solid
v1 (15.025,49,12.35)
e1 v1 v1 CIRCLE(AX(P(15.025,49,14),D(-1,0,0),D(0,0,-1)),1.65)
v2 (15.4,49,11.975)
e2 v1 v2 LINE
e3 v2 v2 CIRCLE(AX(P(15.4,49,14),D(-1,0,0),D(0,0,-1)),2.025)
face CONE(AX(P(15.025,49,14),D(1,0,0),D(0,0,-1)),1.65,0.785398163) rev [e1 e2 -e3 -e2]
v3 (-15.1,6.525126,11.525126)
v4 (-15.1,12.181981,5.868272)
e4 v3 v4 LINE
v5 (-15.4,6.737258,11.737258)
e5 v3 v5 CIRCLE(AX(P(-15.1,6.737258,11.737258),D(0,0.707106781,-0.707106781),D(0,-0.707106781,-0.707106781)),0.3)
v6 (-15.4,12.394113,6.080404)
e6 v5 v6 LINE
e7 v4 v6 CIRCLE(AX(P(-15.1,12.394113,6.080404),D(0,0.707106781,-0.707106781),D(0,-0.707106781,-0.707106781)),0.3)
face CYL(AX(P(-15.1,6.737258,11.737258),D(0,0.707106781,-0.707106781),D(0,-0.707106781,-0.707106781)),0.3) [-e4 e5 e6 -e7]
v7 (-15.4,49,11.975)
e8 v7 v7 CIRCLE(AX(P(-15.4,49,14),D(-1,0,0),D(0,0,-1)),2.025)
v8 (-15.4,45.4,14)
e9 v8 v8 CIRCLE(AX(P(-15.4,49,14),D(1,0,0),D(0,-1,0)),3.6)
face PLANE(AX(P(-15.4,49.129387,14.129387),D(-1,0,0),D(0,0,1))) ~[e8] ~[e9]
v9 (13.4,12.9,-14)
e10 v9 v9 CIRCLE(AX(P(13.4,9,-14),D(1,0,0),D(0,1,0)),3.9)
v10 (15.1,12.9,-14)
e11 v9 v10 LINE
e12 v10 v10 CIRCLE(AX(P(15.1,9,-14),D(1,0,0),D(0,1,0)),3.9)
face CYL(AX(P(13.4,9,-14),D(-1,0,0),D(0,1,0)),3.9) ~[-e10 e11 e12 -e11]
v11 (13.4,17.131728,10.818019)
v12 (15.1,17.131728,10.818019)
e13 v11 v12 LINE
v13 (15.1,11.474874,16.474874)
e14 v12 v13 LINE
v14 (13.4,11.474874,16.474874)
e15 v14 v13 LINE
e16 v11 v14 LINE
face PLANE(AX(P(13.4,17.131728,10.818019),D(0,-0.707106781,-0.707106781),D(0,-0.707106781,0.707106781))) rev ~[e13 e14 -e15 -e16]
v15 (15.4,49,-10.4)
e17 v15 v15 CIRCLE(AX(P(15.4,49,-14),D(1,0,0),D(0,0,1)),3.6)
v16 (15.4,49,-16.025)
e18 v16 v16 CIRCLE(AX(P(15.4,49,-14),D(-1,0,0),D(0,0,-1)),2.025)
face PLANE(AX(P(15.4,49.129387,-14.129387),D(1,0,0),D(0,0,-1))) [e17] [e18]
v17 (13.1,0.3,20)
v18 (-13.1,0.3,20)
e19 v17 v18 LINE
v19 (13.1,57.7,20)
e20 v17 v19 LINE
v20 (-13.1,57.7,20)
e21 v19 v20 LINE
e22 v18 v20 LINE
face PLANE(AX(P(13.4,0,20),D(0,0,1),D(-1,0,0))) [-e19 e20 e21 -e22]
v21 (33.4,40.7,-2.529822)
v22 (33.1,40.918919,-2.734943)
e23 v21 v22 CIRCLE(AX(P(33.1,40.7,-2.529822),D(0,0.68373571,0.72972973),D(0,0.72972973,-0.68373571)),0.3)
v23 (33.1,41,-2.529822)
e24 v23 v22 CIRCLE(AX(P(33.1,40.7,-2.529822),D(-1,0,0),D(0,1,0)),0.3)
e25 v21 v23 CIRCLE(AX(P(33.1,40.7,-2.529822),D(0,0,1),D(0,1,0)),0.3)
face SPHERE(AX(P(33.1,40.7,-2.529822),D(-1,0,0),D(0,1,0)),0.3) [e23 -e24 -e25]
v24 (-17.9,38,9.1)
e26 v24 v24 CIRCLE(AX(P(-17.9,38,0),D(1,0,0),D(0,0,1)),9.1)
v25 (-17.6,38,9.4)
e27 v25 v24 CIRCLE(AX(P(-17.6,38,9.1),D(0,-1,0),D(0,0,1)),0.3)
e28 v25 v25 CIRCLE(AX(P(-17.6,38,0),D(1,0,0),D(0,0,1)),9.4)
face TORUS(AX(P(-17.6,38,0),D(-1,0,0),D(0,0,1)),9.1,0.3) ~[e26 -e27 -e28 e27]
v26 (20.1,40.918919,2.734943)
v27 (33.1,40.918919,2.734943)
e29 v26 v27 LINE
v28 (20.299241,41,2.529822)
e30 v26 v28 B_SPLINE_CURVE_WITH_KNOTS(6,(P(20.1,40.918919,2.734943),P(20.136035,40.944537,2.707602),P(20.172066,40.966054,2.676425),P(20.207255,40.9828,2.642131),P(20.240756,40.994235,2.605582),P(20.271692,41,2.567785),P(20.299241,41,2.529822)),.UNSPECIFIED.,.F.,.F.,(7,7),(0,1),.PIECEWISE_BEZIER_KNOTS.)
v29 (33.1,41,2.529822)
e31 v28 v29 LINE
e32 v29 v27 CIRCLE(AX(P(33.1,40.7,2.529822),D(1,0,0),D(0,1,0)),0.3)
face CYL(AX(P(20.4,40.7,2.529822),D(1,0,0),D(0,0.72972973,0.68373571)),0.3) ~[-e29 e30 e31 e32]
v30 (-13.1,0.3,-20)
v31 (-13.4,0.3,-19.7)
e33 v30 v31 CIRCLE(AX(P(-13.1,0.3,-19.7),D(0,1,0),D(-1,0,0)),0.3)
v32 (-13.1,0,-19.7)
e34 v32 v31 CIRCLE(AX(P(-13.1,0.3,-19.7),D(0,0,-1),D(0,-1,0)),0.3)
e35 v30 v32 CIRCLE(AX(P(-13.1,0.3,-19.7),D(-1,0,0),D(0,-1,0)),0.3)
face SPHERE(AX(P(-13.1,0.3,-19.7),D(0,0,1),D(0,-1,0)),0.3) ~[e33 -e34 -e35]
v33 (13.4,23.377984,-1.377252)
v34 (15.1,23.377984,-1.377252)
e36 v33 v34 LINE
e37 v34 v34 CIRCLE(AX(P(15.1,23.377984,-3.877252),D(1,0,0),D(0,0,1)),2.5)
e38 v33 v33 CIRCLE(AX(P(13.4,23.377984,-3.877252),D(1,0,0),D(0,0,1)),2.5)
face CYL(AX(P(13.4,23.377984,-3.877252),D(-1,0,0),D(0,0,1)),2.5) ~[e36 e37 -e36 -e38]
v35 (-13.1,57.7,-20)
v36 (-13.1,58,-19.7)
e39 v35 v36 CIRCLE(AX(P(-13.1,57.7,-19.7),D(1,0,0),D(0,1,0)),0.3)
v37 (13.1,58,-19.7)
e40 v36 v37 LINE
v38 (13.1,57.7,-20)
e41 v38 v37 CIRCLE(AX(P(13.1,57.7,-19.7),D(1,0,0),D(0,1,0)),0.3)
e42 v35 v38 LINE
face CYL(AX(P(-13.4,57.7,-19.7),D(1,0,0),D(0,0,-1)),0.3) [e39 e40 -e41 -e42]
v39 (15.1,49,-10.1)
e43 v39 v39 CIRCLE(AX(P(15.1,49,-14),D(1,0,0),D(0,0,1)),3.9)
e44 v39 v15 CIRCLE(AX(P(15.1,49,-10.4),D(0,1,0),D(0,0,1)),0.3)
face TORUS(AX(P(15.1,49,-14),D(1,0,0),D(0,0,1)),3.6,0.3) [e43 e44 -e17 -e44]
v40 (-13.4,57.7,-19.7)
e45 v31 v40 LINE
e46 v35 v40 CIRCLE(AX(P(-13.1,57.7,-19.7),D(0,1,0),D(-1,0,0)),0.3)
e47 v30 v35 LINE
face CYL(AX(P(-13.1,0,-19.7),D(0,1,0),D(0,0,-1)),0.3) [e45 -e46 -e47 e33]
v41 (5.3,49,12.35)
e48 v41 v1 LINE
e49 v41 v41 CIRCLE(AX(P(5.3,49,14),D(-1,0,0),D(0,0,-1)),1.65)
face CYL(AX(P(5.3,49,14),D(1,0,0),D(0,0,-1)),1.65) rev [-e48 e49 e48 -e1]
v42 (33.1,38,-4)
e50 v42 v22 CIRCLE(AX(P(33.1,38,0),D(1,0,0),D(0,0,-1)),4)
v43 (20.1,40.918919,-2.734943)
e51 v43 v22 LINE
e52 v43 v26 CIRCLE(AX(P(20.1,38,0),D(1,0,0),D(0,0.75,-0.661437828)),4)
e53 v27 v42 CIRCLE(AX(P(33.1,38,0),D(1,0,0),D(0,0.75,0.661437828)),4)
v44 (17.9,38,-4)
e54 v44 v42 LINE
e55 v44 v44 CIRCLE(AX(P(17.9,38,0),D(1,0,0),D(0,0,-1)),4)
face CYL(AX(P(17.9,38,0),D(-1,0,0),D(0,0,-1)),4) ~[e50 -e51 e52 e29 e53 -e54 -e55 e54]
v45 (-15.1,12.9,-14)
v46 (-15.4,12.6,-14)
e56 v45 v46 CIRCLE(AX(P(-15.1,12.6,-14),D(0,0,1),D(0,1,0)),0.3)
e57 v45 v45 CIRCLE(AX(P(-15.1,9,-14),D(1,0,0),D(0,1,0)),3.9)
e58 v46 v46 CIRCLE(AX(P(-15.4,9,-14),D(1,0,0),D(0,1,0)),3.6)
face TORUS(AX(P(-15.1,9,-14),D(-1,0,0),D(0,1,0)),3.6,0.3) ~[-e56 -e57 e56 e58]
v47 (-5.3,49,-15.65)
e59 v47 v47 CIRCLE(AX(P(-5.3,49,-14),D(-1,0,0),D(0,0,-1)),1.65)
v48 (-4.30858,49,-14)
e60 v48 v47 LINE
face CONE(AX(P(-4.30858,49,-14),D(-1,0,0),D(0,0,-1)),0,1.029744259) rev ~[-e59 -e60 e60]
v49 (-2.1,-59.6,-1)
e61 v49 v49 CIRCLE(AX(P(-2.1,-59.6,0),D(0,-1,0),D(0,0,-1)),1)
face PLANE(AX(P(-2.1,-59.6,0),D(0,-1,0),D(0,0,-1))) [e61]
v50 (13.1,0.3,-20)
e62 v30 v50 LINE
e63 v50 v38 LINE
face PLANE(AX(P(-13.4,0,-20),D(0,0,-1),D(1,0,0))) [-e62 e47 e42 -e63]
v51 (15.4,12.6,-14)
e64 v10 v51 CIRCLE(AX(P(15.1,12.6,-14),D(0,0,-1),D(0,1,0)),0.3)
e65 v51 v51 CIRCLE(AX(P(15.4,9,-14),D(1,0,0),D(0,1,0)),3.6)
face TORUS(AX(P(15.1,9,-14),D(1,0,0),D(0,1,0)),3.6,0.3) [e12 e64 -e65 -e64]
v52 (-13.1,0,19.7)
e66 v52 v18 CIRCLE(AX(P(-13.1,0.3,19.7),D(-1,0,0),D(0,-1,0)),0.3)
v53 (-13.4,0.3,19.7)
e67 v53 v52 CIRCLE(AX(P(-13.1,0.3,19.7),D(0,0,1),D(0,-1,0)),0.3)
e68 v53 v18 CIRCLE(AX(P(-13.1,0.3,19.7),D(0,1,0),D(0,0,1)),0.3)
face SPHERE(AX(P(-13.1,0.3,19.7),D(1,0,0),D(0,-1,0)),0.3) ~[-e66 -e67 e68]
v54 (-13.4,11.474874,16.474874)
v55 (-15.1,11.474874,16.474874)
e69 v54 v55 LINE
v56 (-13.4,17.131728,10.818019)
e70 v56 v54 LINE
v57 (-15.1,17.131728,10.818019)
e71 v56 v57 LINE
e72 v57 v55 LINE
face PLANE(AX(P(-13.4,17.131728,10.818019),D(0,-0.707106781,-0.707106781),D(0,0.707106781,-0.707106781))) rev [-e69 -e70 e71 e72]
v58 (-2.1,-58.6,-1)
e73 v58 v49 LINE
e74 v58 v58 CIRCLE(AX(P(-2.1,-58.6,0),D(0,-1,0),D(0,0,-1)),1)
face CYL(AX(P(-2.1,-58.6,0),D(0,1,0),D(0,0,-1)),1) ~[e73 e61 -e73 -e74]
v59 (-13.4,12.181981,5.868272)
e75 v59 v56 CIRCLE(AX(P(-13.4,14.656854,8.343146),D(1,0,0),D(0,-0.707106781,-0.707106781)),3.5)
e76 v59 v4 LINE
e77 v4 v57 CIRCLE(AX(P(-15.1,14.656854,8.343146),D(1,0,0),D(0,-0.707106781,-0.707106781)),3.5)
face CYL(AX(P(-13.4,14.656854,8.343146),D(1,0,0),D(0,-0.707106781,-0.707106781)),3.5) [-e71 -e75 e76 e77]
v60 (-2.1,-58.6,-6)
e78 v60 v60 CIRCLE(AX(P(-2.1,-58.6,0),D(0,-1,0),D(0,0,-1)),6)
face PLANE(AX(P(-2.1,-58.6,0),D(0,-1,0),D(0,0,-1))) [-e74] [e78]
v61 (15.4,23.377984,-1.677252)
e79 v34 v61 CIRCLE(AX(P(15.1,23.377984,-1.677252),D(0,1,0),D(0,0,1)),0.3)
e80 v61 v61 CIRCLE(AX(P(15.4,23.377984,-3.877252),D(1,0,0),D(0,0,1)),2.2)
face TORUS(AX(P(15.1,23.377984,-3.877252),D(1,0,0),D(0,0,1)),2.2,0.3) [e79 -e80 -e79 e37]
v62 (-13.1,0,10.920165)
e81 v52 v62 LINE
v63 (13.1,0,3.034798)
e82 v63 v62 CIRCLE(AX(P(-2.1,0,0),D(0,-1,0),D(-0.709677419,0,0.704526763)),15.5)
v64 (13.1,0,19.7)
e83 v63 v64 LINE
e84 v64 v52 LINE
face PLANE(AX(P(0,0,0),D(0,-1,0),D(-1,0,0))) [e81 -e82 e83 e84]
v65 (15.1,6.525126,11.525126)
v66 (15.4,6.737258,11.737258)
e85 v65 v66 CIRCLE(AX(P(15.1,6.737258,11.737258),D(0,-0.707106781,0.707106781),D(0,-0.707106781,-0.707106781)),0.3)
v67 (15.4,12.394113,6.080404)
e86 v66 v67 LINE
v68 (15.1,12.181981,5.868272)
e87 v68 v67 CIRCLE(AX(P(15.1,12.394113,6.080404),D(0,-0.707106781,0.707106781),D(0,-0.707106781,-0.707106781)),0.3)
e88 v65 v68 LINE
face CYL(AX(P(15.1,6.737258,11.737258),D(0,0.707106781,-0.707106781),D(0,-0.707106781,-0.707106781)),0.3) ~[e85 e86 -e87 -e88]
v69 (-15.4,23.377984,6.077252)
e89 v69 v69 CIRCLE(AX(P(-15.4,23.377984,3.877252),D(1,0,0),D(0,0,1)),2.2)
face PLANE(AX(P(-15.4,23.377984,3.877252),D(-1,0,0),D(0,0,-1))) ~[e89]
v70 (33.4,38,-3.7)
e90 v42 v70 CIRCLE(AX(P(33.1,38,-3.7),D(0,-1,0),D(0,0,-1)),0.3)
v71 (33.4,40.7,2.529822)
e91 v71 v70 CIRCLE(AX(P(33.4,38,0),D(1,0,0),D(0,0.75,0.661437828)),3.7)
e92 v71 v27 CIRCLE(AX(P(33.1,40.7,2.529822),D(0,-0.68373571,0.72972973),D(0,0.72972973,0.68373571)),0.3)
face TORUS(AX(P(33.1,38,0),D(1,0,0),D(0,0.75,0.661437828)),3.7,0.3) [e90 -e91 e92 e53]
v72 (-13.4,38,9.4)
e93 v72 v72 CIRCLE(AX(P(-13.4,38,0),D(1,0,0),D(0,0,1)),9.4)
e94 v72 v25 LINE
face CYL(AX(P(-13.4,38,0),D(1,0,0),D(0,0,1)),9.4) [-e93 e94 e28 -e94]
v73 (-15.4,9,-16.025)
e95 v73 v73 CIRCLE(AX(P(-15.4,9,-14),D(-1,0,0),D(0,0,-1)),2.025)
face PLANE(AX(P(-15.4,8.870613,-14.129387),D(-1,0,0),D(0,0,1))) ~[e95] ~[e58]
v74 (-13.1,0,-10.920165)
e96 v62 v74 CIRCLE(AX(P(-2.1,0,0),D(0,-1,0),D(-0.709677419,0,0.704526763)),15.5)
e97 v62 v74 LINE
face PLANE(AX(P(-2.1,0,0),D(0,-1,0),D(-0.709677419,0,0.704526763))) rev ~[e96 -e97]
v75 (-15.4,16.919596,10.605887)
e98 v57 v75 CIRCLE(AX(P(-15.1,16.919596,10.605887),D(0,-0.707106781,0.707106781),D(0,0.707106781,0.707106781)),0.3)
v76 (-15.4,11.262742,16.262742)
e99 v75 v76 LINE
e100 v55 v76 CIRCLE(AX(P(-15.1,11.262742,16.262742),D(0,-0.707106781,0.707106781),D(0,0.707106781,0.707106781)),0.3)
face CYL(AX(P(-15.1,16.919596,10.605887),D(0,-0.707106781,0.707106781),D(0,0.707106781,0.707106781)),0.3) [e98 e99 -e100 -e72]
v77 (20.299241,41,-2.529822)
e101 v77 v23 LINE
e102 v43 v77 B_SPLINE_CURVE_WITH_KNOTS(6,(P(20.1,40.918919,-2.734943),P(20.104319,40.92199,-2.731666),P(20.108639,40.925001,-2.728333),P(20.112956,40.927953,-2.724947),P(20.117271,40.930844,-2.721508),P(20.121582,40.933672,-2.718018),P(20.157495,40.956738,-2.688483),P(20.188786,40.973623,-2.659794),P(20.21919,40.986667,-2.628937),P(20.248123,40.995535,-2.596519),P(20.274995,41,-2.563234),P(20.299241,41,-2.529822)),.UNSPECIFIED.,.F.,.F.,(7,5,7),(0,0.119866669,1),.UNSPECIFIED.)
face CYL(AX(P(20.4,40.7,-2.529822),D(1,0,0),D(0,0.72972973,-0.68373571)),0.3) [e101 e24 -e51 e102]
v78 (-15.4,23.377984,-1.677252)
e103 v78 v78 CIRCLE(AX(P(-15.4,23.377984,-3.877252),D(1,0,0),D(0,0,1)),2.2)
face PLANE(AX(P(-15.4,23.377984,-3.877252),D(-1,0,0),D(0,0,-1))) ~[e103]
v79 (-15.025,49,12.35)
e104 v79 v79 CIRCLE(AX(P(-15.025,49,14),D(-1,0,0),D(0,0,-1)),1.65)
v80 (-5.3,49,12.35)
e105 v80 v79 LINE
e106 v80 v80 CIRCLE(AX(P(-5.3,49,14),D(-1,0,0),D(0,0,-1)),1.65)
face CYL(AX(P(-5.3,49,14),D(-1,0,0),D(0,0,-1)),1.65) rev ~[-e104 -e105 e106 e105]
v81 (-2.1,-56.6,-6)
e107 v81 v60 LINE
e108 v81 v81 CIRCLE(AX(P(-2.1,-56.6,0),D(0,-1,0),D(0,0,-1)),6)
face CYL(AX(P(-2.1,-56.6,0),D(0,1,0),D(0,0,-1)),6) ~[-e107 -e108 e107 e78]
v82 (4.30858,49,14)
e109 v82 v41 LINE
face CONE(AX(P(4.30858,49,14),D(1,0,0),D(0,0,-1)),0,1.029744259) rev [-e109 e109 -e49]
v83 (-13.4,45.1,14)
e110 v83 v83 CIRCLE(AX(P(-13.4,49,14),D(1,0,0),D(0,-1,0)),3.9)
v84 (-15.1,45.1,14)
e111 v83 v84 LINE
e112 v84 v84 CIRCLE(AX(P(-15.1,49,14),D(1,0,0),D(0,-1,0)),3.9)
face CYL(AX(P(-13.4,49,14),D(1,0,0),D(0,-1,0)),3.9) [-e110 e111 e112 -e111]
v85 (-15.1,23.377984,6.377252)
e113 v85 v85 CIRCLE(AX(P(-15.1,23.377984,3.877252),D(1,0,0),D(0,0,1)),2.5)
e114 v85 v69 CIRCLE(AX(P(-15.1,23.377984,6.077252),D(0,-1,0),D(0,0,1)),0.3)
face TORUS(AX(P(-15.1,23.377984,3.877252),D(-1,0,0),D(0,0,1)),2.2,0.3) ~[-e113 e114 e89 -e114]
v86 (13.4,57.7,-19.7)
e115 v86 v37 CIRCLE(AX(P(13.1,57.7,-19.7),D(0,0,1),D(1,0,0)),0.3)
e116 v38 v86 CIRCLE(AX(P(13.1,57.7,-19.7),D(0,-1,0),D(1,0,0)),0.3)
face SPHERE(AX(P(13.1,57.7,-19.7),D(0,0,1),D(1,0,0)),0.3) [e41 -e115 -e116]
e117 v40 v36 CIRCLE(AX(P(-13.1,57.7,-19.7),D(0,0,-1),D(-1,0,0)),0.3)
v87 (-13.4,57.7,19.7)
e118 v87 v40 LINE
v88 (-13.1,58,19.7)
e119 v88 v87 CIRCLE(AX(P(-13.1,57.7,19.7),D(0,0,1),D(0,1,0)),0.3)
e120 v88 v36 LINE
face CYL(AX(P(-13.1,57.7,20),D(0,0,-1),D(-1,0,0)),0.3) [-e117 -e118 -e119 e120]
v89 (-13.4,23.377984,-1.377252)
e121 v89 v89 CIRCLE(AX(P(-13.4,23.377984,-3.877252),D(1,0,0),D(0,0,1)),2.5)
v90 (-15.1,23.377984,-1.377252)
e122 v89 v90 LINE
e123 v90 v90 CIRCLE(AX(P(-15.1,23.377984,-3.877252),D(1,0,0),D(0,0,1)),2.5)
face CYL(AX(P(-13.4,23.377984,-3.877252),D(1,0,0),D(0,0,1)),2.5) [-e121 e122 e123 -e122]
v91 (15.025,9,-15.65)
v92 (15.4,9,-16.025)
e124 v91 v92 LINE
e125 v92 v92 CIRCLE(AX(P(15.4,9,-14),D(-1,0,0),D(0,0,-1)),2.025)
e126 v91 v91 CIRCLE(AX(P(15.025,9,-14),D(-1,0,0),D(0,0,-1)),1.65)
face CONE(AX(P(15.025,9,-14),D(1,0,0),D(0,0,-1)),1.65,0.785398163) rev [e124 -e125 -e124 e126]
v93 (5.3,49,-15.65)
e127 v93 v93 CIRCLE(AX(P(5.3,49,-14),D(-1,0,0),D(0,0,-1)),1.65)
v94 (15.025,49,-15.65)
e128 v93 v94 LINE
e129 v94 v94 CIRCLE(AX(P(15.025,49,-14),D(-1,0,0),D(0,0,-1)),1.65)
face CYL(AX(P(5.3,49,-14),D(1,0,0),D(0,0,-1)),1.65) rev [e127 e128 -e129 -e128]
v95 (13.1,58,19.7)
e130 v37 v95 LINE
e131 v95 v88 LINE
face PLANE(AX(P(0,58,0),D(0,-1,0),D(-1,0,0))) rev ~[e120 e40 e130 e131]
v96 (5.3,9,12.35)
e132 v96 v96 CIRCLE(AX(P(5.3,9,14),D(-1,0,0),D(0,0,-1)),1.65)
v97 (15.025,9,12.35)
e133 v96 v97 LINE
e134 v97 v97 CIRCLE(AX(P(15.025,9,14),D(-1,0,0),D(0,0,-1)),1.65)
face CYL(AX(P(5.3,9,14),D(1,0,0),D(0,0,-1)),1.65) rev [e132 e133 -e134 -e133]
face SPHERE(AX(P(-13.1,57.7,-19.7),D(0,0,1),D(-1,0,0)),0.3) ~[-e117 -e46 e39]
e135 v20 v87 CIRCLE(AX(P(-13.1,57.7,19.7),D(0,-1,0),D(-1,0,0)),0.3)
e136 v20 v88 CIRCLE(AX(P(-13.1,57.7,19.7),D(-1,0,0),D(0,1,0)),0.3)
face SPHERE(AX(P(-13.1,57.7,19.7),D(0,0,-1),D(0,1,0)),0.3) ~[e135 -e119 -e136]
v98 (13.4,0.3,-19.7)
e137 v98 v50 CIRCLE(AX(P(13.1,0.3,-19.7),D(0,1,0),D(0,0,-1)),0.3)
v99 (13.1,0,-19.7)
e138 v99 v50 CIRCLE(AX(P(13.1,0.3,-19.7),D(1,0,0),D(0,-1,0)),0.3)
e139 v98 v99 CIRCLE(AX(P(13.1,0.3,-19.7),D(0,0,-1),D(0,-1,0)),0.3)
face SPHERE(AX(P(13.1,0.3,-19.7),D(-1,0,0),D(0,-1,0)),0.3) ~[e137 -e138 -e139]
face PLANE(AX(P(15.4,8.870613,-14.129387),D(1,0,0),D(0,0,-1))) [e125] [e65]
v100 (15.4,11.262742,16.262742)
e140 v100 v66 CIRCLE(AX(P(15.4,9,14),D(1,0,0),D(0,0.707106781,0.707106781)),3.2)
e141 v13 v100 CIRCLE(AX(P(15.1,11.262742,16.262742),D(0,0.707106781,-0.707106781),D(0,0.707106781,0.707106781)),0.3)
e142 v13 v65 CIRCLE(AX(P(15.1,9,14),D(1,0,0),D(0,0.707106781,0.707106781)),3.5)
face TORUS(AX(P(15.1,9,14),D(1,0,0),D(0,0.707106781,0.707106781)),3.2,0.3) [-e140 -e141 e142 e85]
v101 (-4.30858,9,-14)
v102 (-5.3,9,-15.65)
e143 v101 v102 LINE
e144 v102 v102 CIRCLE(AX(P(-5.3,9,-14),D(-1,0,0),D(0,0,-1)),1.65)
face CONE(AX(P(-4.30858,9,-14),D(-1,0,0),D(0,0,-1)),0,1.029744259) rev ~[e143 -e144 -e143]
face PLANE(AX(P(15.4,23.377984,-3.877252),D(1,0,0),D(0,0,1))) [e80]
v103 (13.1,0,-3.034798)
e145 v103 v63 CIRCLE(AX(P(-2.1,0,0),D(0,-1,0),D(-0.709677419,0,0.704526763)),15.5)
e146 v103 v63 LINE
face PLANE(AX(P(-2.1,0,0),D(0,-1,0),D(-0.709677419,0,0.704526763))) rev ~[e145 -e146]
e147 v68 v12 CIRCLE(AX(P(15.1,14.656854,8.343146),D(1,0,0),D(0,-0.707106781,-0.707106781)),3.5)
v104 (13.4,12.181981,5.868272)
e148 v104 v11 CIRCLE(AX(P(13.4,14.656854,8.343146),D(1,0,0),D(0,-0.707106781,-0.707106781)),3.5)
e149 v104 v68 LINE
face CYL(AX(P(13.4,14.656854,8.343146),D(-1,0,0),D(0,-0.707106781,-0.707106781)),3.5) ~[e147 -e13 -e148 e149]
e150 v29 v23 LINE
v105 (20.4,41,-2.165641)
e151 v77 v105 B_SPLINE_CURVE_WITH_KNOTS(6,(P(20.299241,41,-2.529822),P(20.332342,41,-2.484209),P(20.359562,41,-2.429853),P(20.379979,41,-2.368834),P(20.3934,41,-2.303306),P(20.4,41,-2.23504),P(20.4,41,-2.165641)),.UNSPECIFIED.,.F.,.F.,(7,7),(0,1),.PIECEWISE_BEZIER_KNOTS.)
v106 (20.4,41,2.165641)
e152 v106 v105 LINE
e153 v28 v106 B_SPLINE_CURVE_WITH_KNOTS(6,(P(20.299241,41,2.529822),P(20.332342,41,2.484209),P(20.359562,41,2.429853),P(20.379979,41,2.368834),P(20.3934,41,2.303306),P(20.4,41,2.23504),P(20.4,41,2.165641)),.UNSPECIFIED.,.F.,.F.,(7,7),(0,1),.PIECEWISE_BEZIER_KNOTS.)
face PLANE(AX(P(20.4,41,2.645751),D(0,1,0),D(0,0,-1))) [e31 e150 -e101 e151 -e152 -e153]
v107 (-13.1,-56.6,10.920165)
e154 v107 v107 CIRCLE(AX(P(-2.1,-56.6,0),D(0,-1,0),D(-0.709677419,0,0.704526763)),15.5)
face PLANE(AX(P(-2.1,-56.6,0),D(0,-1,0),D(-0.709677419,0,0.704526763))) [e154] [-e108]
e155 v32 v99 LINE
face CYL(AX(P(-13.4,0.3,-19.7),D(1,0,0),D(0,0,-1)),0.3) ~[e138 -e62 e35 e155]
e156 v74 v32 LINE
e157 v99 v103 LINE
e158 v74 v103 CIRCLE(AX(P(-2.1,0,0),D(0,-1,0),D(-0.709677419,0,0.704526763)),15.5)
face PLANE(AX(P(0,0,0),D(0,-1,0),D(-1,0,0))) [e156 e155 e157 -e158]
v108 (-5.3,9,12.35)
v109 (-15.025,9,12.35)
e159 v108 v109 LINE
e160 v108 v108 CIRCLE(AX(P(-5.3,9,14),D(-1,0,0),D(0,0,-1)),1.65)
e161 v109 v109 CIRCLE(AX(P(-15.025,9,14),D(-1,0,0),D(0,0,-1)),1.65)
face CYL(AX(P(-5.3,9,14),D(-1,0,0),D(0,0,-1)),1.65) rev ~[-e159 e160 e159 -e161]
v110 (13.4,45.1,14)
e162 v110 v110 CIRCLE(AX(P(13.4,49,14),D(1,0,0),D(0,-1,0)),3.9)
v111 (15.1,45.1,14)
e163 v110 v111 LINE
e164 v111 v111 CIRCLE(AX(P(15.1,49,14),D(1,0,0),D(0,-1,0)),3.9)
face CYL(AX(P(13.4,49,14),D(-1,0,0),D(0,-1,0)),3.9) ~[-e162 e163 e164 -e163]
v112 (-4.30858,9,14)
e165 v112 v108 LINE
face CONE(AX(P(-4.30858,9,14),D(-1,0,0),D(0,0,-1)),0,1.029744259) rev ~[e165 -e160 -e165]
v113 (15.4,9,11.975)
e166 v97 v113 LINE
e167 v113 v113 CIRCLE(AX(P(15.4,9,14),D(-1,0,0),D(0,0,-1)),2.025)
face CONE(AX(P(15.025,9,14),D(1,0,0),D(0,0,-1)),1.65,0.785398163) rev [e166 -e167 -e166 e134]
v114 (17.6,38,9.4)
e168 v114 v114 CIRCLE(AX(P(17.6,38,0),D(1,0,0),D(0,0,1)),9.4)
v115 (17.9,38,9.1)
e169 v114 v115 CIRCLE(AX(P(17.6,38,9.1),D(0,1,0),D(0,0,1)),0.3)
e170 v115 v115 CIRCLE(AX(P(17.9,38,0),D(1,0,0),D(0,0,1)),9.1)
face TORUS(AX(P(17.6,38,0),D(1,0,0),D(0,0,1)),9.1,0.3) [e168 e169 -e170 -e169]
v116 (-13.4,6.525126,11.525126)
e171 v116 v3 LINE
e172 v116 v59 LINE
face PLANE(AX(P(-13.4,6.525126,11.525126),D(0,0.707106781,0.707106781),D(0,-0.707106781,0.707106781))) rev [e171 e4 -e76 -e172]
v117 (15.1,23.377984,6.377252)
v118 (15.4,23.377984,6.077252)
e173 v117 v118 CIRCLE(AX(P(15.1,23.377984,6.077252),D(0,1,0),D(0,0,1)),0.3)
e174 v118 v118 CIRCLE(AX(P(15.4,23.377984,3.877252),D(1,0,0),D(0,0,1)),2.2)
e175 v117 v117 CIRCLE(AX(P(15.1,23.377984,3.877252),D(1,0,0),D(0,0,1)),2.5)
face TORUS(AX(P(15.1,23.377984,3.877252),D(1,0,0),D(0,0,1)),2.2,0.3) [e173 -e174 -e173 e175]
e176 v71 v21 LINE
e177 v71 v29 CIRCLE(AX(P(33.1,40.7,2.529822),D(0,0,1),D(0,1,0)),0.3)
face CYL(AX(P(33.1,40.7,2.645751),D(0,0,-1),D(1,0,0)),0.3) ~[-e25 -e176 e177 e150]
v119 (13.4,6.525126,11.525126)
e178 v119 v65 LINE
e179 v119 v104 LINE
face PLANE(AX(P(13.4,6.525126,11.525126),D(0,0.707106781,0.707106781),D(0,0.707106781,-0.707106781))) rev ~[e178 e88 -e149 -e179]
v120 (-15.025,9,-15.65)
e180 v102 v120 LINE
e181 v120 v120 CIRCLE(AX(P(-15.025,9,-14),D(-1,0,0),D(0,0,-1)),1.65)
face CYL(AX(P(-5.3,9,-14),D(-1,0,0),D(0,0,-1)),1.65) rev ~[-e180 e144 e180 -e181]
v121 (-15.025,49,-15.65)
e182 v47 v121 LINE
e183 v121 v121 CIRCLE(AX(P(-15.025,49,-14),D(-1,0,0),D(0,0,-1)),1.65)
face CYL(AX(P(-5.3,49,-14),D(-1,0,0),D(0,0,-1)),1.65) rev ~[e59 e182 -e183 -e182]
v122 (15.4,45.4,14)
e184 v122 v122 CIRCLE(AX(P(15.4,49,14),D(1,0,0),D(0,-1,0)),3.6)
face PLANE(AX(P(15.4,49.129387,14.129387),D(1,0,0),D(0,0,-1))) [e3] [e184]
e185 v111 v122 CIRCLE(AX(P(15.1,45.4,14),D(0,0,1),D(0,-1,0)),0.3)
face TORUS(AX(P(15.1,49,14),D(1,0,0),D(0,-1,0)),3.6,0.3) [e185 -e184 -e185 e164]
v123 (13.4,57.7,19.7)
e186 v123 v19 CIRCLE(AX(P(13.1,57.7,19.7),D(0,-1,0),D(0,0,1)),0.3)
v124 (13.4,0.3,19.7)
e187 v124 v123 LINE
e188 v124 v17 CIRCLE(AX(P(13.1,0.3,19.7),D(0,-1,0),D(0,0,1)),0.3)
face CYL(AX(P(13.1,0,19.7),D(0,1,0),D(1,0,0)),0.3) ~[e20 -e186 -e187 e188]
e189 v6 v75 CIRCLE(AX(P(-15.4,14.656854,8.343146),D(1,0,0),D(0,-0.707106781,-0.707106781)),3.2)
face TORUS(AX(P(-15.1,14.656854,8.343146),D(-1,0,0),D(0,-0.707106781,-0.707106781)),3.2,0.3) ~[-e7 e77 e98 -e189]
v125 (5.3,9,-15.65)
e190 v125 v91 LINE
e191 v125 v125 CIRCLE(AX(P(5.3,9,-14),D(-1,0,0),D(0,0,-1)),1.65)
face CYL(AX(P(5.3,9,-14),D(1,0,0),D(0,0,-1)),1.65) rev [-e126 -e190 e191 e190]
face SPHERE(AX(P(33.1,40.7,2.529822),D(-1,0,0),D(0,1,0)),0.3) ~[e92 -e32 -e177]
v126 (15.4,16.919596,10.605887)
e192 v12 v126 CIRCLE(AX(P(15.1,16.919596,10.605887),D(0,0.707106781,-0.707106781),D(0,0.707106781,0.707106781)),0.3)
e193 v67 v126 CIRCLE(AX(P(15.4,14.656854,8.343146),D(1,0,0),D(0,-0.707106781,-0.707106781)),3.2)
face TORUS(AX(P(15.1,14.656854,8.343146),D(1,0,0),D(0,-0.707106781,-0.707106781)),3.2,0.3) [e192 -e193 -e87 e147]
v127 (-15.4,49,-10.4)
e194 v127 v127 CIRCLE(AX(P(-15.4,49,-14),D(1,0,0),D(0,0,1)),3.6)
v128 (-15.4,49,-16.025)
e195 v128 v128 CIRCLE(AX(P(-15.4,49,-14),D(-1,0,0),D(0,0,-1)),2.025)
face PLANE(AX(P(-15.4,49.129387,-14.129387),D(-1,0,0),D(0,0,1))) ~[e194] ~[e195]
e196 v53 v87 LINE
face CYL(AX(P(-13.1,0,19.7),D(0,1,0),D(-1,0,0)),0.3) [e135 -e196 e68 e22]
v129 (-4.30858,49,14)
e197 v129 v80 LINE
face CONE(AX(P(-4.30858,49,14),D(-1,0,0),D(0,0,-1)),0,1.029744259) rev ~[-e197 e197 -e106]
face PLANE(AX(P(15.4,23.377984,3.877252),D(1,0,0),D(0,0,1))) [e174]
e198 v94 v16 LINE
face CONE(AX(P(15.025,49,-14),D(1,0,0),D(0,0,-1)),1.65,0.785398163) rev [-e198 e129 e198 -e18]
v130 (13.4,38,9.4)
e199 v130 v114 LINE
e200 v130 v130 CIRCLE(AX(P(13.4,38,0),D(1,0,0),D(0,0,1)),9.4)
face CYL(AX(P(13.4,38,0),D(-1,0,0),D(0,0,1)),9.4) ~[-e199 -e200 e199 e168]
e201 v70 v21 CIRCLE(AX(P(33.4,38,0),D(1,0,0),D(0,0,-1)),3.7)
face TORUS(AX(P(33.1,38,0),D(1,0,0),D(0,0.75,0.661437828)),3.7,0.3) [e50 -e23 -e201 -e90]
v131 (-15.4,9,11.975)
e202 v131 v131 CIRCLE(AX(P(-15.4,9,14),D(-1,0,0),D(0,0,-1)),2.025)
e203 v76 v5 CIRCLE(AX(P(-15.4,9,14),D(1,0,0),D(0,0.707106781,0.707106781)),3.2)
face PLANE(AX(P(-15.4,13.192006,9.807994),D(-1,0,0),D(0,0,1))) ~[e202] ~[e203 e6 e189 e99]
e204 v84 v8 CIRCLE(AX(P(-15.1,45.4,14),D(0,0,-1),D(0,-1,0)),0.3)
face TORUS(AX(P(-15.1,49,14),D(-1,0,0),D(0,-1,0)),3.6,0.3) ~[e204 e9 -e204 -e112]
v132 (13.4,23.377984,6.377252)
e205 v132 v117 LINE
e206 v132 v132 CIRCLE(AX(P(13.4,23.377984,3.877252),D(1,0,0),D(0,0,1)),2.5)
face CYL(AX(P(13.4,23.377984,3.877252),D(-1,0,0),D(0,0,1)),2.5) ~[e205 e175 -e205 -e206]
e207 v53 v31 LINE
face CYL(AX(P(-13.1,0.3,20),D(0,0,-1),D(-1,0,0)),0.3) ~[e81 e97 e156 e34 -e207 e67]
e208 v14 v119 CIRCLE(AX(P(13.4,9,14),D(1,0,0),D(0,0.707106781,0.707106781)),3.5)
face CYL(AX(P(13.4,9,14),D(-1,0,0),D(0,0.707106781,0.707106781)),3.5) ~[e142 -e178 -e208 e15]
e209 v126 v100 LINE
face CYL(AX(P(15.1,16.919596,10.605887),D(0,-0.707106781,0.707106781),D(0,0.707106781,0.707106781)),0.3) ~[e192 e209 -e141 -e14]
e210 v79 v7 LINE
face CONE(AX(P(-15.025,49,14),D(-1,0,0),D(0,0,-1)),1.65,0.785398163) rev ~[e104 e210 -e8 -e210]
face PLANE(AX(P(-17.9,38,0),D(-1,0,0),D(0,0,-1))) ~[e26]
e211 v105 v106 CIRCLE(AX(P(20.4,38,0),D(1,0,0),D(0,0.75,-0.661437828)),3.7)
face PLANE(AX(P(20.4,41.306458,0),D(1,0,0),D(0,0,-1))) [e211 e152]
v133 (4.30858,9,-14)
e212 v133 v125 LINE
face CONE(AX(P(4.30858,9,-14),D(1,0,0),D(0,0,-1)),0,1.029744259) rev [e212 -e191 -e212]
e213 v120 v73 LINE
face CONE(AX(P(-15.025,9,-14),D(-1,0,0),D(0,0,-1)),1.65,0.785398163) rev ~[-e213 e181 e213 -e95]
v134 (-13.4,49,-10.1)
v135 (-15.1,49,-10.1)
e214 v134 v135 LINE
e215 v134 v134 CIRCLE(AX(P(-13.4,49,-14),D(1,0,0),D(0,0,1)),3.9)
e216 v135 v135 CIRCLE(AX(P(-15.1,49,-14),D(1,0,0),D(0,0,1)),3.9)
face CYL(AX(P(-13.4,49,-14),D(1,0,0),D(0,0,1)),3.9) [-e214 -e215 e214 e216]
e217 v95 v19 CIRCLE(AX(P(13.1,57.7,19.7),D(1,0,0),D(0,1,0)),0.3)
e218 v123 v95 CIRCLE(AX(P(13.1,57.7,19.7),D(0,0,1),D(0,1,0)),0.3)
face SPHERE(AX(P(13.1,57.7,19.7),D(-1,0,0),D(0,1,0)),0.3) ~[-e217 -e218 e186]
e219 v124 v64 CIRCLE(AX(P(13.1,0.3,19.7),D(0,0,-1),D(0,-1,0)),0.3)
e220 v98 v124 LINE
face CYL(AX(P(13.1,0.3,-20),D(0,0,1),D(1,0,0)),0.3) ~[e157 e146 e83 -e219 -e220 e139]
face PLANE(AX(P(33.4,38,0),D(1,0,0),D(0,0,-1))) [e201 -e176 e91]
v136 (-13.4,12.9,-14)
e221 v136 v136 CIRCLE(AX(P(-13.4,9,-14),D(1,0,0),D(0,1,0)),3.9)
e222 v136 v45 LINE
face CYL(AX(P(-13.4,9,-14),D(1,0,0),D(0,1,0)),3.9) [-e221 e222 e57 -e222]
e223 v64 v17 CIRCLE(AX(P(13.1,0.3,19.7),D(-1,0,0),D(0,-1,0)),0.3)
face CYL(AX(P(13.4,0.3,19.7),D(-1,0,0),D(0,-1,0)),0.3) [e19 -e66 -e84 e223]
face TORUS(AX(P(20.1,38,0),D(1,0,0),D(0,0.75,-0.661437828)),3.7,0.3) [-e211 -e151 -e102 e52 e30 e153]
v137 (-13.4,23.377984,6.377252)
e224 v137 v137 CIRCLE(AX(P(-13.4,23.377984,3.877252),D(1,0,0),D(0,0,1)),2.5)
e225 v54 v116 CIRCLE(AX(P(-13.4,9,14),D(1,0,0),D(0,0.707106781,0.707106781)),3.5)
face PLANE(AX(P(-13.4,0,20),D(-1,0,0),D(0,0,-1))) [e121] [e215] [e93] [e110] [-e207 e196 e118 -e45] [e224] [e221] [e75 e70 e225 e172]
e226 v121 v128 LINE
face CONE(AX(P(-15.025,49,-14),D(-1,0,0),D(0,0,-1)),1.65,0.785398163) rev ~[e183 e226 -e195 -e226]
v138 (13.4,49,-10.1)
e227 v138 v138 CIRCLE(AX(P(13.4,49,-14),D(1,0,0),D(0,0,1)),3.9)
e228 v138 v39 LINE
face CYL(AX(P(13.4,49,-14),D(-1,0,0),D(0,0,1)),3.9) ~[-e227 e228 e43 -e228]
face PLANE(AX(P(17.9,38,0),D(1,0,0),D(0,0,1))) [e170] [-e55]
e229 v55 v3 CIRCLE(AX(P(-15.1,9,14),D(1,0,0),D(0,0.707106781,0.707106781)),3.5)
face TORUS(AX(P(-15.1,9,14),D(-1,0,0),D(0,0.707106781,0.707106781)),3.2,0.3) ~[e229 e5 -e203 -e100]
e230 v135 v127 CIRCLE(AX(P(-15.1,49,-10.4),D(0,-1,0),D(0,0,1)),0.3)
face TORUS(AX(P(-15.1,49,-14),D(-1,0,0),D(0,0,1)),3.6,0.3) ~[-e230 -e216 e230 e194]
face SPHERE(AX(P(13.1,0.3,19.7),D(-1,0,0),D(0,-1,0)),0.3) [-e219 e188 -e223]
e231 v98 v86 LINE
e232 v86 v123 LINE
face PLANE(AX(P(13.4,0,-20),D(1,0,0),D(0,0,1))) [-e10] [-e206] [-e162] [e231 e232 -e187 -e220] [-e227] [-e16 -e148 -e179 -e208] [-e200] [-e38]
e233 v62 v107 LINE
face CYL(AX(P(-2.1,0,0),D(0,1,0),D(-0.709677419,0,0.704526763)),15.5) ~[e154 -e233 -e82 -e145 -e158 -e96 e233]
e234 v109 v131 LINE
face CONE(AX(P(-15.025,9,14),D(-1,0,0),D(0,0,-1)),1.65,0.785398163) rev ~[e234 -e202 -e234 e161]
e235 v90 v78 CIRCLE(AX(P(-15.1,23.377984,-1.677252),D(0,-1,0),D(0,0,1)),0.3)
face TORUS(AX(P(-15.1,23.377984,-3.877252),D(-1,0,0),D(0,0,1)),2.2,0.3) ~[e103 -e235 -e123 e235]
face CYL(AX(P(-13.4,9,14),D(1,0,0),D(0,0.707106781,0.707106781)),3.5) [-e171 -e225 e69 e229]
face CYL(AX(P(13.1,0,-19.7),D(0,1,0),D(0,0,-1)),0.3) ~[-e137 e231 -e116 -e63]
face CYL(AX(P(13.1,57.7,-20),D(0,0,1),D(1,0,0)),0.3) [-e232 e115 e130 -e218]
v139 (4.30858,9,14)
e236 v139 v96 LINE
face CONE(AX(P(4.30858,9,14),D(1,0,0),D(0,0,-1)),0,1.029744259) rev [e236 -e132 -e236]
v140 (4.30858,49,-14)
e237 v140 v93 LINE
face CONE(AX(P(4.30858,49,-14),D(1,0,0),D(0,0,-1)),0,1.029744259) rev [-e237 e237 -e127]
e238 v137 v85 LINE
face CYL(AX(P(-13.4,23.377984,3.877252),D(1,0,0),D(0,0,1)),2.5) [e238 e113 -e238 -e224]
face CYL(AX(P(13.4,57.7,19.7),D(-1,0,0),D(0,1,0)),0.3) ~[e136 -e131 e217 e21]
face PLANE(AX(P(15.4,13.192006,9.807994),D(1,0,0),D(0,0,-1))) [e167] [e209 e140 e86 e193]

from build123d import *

# Parameters (mm, degrees)
EXTRUDE_1_DEPTH             = 58
SKETCH_3_R                  = 2.4999999999999996
SKETCH_3_R_2                = 2.499999999999999
EXTRUDE_2_DEPTH             = 2
SKETCH_4_R                  = 9.4
EXTRUDE_3_DEPTH             = 4.5
SKETCH_5_R                  = 4.000000000000001
EXTRUDE_4_DEPTH             = 15.5
CUT_EXTRUDE_START           = -13
CUT_EXTRUDE_1_DEPTH         = 13
FILLET_1_R                  = 0.3
SKETCH_7_R                  = 15.5
EXTRUDE_5_DEPTH             = 56.6
SKETCH_8_R                  = 6
EXTRUDE_6_DEPTH             = 2
SKETCH_9_R                  = 1.0000000000000002
EXTRUDE_7_DEPTH             = 1
HOLE_WIZARD_M4_5_AT_2_COUNT = 2
HOLE_WIZARD_M4_5_AT_2_PITCH = 28
HOLE_WIZARD_M4_5_AT_3_COUNT = 2
HOLE_WIZARD_M4_5_AT_3_PITCH = 39.99999999999999
HOLE_WIZARD_M4_5_AT_4_COUNT = 2
HOLE_WIZARD_M4_5_AT_4_PITCH = 48.8262224629348


with BuildPart() as part:
    # 草图2 → 凸台-拉伸1 (new body)
    with BuildSketch(Plane(origin=(0, 0, 0), x_dir=(1, 0, 0), z_dir=(0, 1, 0))):
        Polygon((-13.400000000000004, 19.999999999999996), (13.399999999999997, 19.999999999999996), (13.400000000000002, -20.000000000000004), (-13.4, -20.000000000000004), align=None)
    extrude(amount=EXTRUDE_1_DEPTH)

    # 草图3 → 凸台-拉伸2 (add)
    with BuildSketch(Plane(origin=(13.399999999999999, 0, -1.74e-15), x_dir=(-1.3e-16, 0, -1), z_dir=(1, 0, -1.3e-16))):
        with BuildLine():
            Line((-14.000000000000012, 45.1), (-14.000000000000012, 49))
            Line((-14.000000000000012, 49), (-10.10000000000001, 49))
            ThreePointArc((-10.10000000000001, 49), (-16.75771644662754, 51.75771644662755), (-14.000000000000037, 45.1))
        make_face()
        with BuildLine():
            Line((-10.10000000000001, 49), (-14.000000000000012, 49))
            Line((-14.000000000000012, 49), (-14.000000000000012, 45.1))
            ThreePointArc((-14.000000000000037, 45.1), (-11.242283553372484, 46.24228355337245), (-10.10000000000001, 49))
        make_face()
        with BuildLine():
            ThreePointArc((17.899999999999988, 49), (13.999999999999988, 52.9), (10.099999999999985, 49))
            Line((10.099999999999985, 49), (13.999999999999988, 49))
            Line((13.999999999999988, 49), (13.999999999999988, 45.1))
            ThreePointArc((13.999999999999963, 45.1), (16.757716446627516, 46.24228355337245), (17.899999999999988, 49))
        make_face()
        with BuildLine():
            Line((13.999999999999988, 49), (10.099999999999985, 49))
            ThreePointArc((10.099999999999985, 49), (11.242283553372442, 46.242283553372474), (13.999999999999963, 45.1))
            Line((13.999999999999988, 45.1), (13.999999999999988, 49))
        make_face()
        with BuildLine():
            Line((-10.81801948466056, 17.131727983645305), (-14.000000000000007, 13.949747468305842))
            Line((-14.000000000000007, 13.949747468305844), (-14.000000000000007, 9.000000000000007))
            Line((-14.000000000000007, 9.000000000000005), (-9.050252531694188, 9.000000000000005))
            Line((-9.050252531694188, 9.000000000000005), (-5.868272016354716, 12.181980515339479))
            ThreePointArc((-5.868272016354716, 12.181980515339479), (-5.868272016354725, 17.131727983645316), (-10.81801948466056, 17.131727983645305))
        make_face()
        with BuildLine():
            Line((-14.000000000000007, 9.000000000000007), (-14.000000000000007, 13.949747468305844))
            Line((-14.000000000000007, 13.949747468305842), (-16.474873734152926, 11.474873734152911))
            ThreePointArc((-16.474873734152926, 11.474873734152911), (-16.47487373415292, 6.52512626584709), (-11.525126265847096, 6.525126265847091))
            Line((-11.525126265847097, 6.525126265847093), (-9.050252531694188, 9.000000000000005))
            Line((-9.050252531694188, 9.000000000000005), (-14.000000000000007, 9.000000000000005))
        make_face()
        with BuildLine():
            ThreePointArc((17.89999999999999, 9.000000000000005), (16.75771644662752, 11.75771644662755), (13.999999999999968, 12.900000000000007))
            Line((13.999999999999991, 12.900000000000006), (13.999999999999991, 9.000000000000007))
            Line((13.999999999999993, 9.000000000000005), (10.099999999999987, 9.000000000000005))
            ThreePointArc((10.099999999999989, 9.000000000000005), (13.999999999999991, 5.100000000000003), (17.89999999999999, 9.000000000000004))
        make_face()
        with BuildLine():
            Line((13.999999999999991, 9.000000000000007), (13.999999999999991, 12.900000000000006))
            ThreePointArc((13.999999999999968, 12.900000000000007), (11.242283553372445, 11.757716446627533), (10.099999999999989, 9.000000000000005))
            Line((10.099999999999987, 9.000000000000005), (13.999999999999993, 9.000000000000005))
        make_face()
        with Locations(Location((-3.8772522969191674, 23.377984169467222, 0), (0, 0, 180))):
            Circle(SKETCH_3_R)
        with Locations(Location((3.8772522969191545, 23.377984169467222, 0), (0, 0, 180))):
            Circle(SKETCH_3_R_2)
    extrude_2 = extrude(amount=EXTRUDE_2_DEPTH)

    # 草图4 → 凸台-拉伸3 (add)
    with BuildSketch(Plane(origin=(13.399999999999999, 0, -1.74e-15), x_dir=(-1.3e-16, 0, -1), z_dir=(1, 0, -1.3e-16))):
        with Locations(Location((1.73e-15, 38.00000000000001, 0), (0, 0, 180))):
            Circle(SKETCH_4_R)
    extrude_3 = extrude(amount=EXTRUDE_3_DEPTH)

    # 镜向1: 凸台-拉伸2, 凸台-拉伸3 across plane
    add(extrude_2.mirror(Plane(origin=(0, 0, 0), x_dir=(1.1e-16, 0, 1), z_dir=(1, 0, -1.1e-16))))
    add(extrude_3.mirror(Plane(origin=(0, 0, 0), x_dir=(1.1e-16, 0, 1), z_dir=(1, 0, -1.1e-16))))

    # 草图5 → 凸台-拉伸4 (add)
    with BuildSketch(Plane(origin=(17.9, 0, -2.33e-15), x_dir=(-1.3e-16, 0, -1), z_dir=(1, 0, -1.3e-16))):
        with Locations((1.73e-15, 38.00000000000001)):
            Circle(SKETCH_5_R)
    extrude(amount=EXTRUDE_4_DEPTH)

    # 草图6 → 切除-拉伸1 (cut)
    with BuildSketch(Plane(origin=(33.4, 0, -4.35e-15), x_dir=(-1.3e-16, 0, -1), z_dir=(1, 0, -1.3e-16)).offset(CUT_EXTRUDE_START)):
        with BuildLine():
            Line((-2.6457513110645885, 41.00000000000001), (2.6457513110645885, 41.00000000000001))
            ThreePointArc((2.6457513110645885, 41.00000000000001), (2e-16, 42.00000000000001), (-2.6457513110645885, 41.00000000000001))
        make_face()
    extrude(amount=CUT_EXTRUDE_1_DEPTH, mode=Mode.SUBTRACT)

    # 圆角1
    fillet_1_edges = [part.edges().sort_by_distance(p)[0] for p in [
        (-13.400000000000002, 58, 3.55e-15),
        (15.4, 52.9, 13.999999999999977),
        (0, 58, 20.000000000000004),
        (15.399999999999997, 49, -17.899999999999988),
        (15.4, 14.303300858899108, 13.646446609406741),
        (15.399999999999999, 9.353553390593285, 8.696699141100904),
        (15.399999999999999, 17.131727983645316, 5.868272016354721),
        (15.4, 6.5251262658470885, 16.474873734152915),
        (15.399999999999997, 9.000000000000004, -10.099999999999993),
        (15.399999999999999, 23.377984169467222, 1.3772522969191658),
        (15.399999999999999, 23.377984169467222, -6.377252296919155),
        (17.9, 38.00000000000001, -9.400000000000004),
        (13.399999999999999, 58, 3.55e-15),
        (0, 0, 20.000000000000004),
        (-15.399999999999997, 52.9, 13.99999999999998),
        (-13.400000000000002, 0, 3.55e-15),
        (-15.4, 49, -17.899999999999984),
        (-3.55e-15, 0, -19.999999999999996),
        (-15.399999999999999, 9.353553390593285, 8.696699141100908),
        (-15.399999999999995, 6.5251262658470885, 16.47487373415292),
        (-15.399999999999999, 17.131727983645316, 5.868272016354726),
        (-15.399999999999997, 14.303300858899108, 13.646446609406743),
        (13.399999999999999, 0, 3.55e-15),
        (-15.4, 9.000000000000004, -10.099999999999989),
        (-15.399999999999999, 23.377984169467222, 1.377252296919169),
        (-15.399999999999999, 23.377984169467222, -6.377252296919152),
        (13.400000000000002, 29, 20.000000000000004),
        (-13.4, 29, 20.000000000000004),
        (-13.400000000000004, 29, -19.999999999999996),
        (-17.9, 38.00000000000001, -9.399999999999999),
        (13.399999999999997, 29, -19.999999999999996),
        (-3.55e-15, 58, -19.999999999999996),
        (33.4, 34.354248688935414, 1.6457513110645863),
        (20.4, 42.00000000000001, -2.88e-15),
        (26.9, 41.00000000000001, 2.6457513110645845),
        (26.9, 41.00000000000001, -2.6457513110645916),
        (33.4, 41.00000000000001, -4.35e-15),
    ]]
    fillet(fillet_1_edges, radius=FILLET_1_R)

    # 草图7 → 凸台-拉伸5 (add)
    with BuildSketch(Plane.XZ):
        with Locations(Location((-2.1000000000000045, 0, 0), (0, 0, 135.20867534))):
            Circle(SKETCH_7_R)
    extrude(amount=EXTRUDE_5_DEPTH)

    # 草图8 → 凸台-拉伸6 (add)
    with BuildSketch(Plane.XZ.offset(56.6)):
        with Locations(Location((-2.1000000000000045, 0, 0), (0, 0, 270))):
            Circle(SKETCH_8_R)
    extrude(amount=EXTRUDE_6_DEPTH)

    # 草图9 → 凸台-拉伸7 (add)
    with BuildSketch(Plane.XZ.offset(58.60000000000001)):
        with Locations(Location((-2.1000000000000045, 0, 0), (0, 0, 270))):
            Circle(SKETCH_9_R)
    extrude(amount=EXTRUDE_7_DEPTH)

    # 草图14 → M4 螺纹孔5 (revolve, cut)
    with BuildSketch(Plane(origin=(15.399999999999997, 49, -13.99999999999999), x_dir=(-1.3e-16, 0, -1), z_dir=(0, 1, 0))):
        Polygon((0, 0), (-2.72e-15, 11.091420021395477), (1.649999999999998, 10.1), (1.6499999999999986, 0.37500000000000033), (2.025, 0), align=None)
    hole_wizard_m4_5 = revolve(axis=Axis((21.749999999999986, 49, -13.99999999999999), (-1, 0, 1.2e-16)), mode=Mode.SUBTRACT)

    # M4 螺纹孔5 at 2: M4 螺纹孔5 ×2
    with Locations(*[(0, 0, i * HOLE_WIZARD_M4_5_AT_2_PITCH) for i in range(1, HOLE_WIZARD_M4_5_AT_2_COUNT)]):
        add(hole_wizard_m4_5, mode=Mode.SUBTRACT)

    # M4 螺纹孔5 at 3: M4 螺纹孔5 ×2
    with Locations(*[(0, -i * HOLE_WIZARD_M4_5_AT_3_PITCH, 0) for i in range(1, HOLE_WIZARD_M4_5_AT_3_COUNT)]):
        add(hole_wizard_m4_5, mode=Mode.SUBTRACT)

    # M4 螺纹孔5 at 4: M4 螺纹孔5 ×2
    with Locations(*[Vector(0, -0.8192319205190405, 0.5734623443633283) * (i * HOLE_WIZARD_M4_5_AT_4_PITCH) for i in range(1, HOLE_WIZARD_M4_5_AT_4_COUNT)]):
        add(hole_wizard_m4_5, mode=Mode.SUBTRACT)

    # 镜向2: M4 螺纹孔5 across plane
    add(hole_wizard_m4_5.mirror(Plane(origin=(0, 0, 0), x_dir=(1.1e-16, 0, 1), z_dir=(1, 0, -1.1e-16))), mode=Mode.SUBTRACT)

    # 镜向2 copy 1 sketch → 镜向2 copy 1 (revolve, cut)
    with BuildSketch(Plane(origin=(-15.399999999999999, 49, 14.000000000000014), x_dir=(-9e-17, 0, -1), z_dir=(0, 1, 0))):
        Polygon((0, 0), (-2.72e-15, -11.091420021395477), (1.649999999999998, -10.1), (1.6499999999999986, -0.37500000000000033), (2.025, 0), align=None)
    revolve(axis=Axis((-21.749999999999986, 49, 14.000000000000016), (-1, 0, 9e-17)), mode=Mode.SUBTRACT)

    # 镜向2 copy 2 sketch → 镜向2 copy 2 (revolve, cut)
    with BuildSketch(Plane(origin=(-15.4, 9.000000000000007, -13.99999999999999), x_dir=(-9e-17, 0, -1), z_dir=(0, 1, 0))):
        Polygon((0, 0), (-2.72e-15, -11.091420021395477), (1.649999999999998, -10.1), (1.6499999999999986, -0.37500000000000033), (2.025, 0), align=None)
    revolve(axis=Axis((-21.74999999999999, 9.000000000000007, -13.999999999999988), (-1, 0, 9e-17)), mode=Mode.SUBTRACT)

    # 镜向2 copy 3 sketch → 镜向2 copy 3 (revolve, cut)
    with BuildSketch(Plane(origin=(-15.399999999999999, 9.000000000000007, 14.000000000000007), x_dir=(-9e-17, 0, -1), z_dir=(0, 1, 0))):
        Polygon((0, 0), (-2.72e-15, -11.091420021395477), (1.649999999999998, -10.1), (1.6499999999999986, -0.37500000000000033), (2.025, 0), align=None)
    revolve(axis=Axis((-21.749999999999986, 9.000000000000007, 14.000000000000009), (-1, 0, 9e-17)), mode=Mode.SUBTRACT)


solid = part.part
